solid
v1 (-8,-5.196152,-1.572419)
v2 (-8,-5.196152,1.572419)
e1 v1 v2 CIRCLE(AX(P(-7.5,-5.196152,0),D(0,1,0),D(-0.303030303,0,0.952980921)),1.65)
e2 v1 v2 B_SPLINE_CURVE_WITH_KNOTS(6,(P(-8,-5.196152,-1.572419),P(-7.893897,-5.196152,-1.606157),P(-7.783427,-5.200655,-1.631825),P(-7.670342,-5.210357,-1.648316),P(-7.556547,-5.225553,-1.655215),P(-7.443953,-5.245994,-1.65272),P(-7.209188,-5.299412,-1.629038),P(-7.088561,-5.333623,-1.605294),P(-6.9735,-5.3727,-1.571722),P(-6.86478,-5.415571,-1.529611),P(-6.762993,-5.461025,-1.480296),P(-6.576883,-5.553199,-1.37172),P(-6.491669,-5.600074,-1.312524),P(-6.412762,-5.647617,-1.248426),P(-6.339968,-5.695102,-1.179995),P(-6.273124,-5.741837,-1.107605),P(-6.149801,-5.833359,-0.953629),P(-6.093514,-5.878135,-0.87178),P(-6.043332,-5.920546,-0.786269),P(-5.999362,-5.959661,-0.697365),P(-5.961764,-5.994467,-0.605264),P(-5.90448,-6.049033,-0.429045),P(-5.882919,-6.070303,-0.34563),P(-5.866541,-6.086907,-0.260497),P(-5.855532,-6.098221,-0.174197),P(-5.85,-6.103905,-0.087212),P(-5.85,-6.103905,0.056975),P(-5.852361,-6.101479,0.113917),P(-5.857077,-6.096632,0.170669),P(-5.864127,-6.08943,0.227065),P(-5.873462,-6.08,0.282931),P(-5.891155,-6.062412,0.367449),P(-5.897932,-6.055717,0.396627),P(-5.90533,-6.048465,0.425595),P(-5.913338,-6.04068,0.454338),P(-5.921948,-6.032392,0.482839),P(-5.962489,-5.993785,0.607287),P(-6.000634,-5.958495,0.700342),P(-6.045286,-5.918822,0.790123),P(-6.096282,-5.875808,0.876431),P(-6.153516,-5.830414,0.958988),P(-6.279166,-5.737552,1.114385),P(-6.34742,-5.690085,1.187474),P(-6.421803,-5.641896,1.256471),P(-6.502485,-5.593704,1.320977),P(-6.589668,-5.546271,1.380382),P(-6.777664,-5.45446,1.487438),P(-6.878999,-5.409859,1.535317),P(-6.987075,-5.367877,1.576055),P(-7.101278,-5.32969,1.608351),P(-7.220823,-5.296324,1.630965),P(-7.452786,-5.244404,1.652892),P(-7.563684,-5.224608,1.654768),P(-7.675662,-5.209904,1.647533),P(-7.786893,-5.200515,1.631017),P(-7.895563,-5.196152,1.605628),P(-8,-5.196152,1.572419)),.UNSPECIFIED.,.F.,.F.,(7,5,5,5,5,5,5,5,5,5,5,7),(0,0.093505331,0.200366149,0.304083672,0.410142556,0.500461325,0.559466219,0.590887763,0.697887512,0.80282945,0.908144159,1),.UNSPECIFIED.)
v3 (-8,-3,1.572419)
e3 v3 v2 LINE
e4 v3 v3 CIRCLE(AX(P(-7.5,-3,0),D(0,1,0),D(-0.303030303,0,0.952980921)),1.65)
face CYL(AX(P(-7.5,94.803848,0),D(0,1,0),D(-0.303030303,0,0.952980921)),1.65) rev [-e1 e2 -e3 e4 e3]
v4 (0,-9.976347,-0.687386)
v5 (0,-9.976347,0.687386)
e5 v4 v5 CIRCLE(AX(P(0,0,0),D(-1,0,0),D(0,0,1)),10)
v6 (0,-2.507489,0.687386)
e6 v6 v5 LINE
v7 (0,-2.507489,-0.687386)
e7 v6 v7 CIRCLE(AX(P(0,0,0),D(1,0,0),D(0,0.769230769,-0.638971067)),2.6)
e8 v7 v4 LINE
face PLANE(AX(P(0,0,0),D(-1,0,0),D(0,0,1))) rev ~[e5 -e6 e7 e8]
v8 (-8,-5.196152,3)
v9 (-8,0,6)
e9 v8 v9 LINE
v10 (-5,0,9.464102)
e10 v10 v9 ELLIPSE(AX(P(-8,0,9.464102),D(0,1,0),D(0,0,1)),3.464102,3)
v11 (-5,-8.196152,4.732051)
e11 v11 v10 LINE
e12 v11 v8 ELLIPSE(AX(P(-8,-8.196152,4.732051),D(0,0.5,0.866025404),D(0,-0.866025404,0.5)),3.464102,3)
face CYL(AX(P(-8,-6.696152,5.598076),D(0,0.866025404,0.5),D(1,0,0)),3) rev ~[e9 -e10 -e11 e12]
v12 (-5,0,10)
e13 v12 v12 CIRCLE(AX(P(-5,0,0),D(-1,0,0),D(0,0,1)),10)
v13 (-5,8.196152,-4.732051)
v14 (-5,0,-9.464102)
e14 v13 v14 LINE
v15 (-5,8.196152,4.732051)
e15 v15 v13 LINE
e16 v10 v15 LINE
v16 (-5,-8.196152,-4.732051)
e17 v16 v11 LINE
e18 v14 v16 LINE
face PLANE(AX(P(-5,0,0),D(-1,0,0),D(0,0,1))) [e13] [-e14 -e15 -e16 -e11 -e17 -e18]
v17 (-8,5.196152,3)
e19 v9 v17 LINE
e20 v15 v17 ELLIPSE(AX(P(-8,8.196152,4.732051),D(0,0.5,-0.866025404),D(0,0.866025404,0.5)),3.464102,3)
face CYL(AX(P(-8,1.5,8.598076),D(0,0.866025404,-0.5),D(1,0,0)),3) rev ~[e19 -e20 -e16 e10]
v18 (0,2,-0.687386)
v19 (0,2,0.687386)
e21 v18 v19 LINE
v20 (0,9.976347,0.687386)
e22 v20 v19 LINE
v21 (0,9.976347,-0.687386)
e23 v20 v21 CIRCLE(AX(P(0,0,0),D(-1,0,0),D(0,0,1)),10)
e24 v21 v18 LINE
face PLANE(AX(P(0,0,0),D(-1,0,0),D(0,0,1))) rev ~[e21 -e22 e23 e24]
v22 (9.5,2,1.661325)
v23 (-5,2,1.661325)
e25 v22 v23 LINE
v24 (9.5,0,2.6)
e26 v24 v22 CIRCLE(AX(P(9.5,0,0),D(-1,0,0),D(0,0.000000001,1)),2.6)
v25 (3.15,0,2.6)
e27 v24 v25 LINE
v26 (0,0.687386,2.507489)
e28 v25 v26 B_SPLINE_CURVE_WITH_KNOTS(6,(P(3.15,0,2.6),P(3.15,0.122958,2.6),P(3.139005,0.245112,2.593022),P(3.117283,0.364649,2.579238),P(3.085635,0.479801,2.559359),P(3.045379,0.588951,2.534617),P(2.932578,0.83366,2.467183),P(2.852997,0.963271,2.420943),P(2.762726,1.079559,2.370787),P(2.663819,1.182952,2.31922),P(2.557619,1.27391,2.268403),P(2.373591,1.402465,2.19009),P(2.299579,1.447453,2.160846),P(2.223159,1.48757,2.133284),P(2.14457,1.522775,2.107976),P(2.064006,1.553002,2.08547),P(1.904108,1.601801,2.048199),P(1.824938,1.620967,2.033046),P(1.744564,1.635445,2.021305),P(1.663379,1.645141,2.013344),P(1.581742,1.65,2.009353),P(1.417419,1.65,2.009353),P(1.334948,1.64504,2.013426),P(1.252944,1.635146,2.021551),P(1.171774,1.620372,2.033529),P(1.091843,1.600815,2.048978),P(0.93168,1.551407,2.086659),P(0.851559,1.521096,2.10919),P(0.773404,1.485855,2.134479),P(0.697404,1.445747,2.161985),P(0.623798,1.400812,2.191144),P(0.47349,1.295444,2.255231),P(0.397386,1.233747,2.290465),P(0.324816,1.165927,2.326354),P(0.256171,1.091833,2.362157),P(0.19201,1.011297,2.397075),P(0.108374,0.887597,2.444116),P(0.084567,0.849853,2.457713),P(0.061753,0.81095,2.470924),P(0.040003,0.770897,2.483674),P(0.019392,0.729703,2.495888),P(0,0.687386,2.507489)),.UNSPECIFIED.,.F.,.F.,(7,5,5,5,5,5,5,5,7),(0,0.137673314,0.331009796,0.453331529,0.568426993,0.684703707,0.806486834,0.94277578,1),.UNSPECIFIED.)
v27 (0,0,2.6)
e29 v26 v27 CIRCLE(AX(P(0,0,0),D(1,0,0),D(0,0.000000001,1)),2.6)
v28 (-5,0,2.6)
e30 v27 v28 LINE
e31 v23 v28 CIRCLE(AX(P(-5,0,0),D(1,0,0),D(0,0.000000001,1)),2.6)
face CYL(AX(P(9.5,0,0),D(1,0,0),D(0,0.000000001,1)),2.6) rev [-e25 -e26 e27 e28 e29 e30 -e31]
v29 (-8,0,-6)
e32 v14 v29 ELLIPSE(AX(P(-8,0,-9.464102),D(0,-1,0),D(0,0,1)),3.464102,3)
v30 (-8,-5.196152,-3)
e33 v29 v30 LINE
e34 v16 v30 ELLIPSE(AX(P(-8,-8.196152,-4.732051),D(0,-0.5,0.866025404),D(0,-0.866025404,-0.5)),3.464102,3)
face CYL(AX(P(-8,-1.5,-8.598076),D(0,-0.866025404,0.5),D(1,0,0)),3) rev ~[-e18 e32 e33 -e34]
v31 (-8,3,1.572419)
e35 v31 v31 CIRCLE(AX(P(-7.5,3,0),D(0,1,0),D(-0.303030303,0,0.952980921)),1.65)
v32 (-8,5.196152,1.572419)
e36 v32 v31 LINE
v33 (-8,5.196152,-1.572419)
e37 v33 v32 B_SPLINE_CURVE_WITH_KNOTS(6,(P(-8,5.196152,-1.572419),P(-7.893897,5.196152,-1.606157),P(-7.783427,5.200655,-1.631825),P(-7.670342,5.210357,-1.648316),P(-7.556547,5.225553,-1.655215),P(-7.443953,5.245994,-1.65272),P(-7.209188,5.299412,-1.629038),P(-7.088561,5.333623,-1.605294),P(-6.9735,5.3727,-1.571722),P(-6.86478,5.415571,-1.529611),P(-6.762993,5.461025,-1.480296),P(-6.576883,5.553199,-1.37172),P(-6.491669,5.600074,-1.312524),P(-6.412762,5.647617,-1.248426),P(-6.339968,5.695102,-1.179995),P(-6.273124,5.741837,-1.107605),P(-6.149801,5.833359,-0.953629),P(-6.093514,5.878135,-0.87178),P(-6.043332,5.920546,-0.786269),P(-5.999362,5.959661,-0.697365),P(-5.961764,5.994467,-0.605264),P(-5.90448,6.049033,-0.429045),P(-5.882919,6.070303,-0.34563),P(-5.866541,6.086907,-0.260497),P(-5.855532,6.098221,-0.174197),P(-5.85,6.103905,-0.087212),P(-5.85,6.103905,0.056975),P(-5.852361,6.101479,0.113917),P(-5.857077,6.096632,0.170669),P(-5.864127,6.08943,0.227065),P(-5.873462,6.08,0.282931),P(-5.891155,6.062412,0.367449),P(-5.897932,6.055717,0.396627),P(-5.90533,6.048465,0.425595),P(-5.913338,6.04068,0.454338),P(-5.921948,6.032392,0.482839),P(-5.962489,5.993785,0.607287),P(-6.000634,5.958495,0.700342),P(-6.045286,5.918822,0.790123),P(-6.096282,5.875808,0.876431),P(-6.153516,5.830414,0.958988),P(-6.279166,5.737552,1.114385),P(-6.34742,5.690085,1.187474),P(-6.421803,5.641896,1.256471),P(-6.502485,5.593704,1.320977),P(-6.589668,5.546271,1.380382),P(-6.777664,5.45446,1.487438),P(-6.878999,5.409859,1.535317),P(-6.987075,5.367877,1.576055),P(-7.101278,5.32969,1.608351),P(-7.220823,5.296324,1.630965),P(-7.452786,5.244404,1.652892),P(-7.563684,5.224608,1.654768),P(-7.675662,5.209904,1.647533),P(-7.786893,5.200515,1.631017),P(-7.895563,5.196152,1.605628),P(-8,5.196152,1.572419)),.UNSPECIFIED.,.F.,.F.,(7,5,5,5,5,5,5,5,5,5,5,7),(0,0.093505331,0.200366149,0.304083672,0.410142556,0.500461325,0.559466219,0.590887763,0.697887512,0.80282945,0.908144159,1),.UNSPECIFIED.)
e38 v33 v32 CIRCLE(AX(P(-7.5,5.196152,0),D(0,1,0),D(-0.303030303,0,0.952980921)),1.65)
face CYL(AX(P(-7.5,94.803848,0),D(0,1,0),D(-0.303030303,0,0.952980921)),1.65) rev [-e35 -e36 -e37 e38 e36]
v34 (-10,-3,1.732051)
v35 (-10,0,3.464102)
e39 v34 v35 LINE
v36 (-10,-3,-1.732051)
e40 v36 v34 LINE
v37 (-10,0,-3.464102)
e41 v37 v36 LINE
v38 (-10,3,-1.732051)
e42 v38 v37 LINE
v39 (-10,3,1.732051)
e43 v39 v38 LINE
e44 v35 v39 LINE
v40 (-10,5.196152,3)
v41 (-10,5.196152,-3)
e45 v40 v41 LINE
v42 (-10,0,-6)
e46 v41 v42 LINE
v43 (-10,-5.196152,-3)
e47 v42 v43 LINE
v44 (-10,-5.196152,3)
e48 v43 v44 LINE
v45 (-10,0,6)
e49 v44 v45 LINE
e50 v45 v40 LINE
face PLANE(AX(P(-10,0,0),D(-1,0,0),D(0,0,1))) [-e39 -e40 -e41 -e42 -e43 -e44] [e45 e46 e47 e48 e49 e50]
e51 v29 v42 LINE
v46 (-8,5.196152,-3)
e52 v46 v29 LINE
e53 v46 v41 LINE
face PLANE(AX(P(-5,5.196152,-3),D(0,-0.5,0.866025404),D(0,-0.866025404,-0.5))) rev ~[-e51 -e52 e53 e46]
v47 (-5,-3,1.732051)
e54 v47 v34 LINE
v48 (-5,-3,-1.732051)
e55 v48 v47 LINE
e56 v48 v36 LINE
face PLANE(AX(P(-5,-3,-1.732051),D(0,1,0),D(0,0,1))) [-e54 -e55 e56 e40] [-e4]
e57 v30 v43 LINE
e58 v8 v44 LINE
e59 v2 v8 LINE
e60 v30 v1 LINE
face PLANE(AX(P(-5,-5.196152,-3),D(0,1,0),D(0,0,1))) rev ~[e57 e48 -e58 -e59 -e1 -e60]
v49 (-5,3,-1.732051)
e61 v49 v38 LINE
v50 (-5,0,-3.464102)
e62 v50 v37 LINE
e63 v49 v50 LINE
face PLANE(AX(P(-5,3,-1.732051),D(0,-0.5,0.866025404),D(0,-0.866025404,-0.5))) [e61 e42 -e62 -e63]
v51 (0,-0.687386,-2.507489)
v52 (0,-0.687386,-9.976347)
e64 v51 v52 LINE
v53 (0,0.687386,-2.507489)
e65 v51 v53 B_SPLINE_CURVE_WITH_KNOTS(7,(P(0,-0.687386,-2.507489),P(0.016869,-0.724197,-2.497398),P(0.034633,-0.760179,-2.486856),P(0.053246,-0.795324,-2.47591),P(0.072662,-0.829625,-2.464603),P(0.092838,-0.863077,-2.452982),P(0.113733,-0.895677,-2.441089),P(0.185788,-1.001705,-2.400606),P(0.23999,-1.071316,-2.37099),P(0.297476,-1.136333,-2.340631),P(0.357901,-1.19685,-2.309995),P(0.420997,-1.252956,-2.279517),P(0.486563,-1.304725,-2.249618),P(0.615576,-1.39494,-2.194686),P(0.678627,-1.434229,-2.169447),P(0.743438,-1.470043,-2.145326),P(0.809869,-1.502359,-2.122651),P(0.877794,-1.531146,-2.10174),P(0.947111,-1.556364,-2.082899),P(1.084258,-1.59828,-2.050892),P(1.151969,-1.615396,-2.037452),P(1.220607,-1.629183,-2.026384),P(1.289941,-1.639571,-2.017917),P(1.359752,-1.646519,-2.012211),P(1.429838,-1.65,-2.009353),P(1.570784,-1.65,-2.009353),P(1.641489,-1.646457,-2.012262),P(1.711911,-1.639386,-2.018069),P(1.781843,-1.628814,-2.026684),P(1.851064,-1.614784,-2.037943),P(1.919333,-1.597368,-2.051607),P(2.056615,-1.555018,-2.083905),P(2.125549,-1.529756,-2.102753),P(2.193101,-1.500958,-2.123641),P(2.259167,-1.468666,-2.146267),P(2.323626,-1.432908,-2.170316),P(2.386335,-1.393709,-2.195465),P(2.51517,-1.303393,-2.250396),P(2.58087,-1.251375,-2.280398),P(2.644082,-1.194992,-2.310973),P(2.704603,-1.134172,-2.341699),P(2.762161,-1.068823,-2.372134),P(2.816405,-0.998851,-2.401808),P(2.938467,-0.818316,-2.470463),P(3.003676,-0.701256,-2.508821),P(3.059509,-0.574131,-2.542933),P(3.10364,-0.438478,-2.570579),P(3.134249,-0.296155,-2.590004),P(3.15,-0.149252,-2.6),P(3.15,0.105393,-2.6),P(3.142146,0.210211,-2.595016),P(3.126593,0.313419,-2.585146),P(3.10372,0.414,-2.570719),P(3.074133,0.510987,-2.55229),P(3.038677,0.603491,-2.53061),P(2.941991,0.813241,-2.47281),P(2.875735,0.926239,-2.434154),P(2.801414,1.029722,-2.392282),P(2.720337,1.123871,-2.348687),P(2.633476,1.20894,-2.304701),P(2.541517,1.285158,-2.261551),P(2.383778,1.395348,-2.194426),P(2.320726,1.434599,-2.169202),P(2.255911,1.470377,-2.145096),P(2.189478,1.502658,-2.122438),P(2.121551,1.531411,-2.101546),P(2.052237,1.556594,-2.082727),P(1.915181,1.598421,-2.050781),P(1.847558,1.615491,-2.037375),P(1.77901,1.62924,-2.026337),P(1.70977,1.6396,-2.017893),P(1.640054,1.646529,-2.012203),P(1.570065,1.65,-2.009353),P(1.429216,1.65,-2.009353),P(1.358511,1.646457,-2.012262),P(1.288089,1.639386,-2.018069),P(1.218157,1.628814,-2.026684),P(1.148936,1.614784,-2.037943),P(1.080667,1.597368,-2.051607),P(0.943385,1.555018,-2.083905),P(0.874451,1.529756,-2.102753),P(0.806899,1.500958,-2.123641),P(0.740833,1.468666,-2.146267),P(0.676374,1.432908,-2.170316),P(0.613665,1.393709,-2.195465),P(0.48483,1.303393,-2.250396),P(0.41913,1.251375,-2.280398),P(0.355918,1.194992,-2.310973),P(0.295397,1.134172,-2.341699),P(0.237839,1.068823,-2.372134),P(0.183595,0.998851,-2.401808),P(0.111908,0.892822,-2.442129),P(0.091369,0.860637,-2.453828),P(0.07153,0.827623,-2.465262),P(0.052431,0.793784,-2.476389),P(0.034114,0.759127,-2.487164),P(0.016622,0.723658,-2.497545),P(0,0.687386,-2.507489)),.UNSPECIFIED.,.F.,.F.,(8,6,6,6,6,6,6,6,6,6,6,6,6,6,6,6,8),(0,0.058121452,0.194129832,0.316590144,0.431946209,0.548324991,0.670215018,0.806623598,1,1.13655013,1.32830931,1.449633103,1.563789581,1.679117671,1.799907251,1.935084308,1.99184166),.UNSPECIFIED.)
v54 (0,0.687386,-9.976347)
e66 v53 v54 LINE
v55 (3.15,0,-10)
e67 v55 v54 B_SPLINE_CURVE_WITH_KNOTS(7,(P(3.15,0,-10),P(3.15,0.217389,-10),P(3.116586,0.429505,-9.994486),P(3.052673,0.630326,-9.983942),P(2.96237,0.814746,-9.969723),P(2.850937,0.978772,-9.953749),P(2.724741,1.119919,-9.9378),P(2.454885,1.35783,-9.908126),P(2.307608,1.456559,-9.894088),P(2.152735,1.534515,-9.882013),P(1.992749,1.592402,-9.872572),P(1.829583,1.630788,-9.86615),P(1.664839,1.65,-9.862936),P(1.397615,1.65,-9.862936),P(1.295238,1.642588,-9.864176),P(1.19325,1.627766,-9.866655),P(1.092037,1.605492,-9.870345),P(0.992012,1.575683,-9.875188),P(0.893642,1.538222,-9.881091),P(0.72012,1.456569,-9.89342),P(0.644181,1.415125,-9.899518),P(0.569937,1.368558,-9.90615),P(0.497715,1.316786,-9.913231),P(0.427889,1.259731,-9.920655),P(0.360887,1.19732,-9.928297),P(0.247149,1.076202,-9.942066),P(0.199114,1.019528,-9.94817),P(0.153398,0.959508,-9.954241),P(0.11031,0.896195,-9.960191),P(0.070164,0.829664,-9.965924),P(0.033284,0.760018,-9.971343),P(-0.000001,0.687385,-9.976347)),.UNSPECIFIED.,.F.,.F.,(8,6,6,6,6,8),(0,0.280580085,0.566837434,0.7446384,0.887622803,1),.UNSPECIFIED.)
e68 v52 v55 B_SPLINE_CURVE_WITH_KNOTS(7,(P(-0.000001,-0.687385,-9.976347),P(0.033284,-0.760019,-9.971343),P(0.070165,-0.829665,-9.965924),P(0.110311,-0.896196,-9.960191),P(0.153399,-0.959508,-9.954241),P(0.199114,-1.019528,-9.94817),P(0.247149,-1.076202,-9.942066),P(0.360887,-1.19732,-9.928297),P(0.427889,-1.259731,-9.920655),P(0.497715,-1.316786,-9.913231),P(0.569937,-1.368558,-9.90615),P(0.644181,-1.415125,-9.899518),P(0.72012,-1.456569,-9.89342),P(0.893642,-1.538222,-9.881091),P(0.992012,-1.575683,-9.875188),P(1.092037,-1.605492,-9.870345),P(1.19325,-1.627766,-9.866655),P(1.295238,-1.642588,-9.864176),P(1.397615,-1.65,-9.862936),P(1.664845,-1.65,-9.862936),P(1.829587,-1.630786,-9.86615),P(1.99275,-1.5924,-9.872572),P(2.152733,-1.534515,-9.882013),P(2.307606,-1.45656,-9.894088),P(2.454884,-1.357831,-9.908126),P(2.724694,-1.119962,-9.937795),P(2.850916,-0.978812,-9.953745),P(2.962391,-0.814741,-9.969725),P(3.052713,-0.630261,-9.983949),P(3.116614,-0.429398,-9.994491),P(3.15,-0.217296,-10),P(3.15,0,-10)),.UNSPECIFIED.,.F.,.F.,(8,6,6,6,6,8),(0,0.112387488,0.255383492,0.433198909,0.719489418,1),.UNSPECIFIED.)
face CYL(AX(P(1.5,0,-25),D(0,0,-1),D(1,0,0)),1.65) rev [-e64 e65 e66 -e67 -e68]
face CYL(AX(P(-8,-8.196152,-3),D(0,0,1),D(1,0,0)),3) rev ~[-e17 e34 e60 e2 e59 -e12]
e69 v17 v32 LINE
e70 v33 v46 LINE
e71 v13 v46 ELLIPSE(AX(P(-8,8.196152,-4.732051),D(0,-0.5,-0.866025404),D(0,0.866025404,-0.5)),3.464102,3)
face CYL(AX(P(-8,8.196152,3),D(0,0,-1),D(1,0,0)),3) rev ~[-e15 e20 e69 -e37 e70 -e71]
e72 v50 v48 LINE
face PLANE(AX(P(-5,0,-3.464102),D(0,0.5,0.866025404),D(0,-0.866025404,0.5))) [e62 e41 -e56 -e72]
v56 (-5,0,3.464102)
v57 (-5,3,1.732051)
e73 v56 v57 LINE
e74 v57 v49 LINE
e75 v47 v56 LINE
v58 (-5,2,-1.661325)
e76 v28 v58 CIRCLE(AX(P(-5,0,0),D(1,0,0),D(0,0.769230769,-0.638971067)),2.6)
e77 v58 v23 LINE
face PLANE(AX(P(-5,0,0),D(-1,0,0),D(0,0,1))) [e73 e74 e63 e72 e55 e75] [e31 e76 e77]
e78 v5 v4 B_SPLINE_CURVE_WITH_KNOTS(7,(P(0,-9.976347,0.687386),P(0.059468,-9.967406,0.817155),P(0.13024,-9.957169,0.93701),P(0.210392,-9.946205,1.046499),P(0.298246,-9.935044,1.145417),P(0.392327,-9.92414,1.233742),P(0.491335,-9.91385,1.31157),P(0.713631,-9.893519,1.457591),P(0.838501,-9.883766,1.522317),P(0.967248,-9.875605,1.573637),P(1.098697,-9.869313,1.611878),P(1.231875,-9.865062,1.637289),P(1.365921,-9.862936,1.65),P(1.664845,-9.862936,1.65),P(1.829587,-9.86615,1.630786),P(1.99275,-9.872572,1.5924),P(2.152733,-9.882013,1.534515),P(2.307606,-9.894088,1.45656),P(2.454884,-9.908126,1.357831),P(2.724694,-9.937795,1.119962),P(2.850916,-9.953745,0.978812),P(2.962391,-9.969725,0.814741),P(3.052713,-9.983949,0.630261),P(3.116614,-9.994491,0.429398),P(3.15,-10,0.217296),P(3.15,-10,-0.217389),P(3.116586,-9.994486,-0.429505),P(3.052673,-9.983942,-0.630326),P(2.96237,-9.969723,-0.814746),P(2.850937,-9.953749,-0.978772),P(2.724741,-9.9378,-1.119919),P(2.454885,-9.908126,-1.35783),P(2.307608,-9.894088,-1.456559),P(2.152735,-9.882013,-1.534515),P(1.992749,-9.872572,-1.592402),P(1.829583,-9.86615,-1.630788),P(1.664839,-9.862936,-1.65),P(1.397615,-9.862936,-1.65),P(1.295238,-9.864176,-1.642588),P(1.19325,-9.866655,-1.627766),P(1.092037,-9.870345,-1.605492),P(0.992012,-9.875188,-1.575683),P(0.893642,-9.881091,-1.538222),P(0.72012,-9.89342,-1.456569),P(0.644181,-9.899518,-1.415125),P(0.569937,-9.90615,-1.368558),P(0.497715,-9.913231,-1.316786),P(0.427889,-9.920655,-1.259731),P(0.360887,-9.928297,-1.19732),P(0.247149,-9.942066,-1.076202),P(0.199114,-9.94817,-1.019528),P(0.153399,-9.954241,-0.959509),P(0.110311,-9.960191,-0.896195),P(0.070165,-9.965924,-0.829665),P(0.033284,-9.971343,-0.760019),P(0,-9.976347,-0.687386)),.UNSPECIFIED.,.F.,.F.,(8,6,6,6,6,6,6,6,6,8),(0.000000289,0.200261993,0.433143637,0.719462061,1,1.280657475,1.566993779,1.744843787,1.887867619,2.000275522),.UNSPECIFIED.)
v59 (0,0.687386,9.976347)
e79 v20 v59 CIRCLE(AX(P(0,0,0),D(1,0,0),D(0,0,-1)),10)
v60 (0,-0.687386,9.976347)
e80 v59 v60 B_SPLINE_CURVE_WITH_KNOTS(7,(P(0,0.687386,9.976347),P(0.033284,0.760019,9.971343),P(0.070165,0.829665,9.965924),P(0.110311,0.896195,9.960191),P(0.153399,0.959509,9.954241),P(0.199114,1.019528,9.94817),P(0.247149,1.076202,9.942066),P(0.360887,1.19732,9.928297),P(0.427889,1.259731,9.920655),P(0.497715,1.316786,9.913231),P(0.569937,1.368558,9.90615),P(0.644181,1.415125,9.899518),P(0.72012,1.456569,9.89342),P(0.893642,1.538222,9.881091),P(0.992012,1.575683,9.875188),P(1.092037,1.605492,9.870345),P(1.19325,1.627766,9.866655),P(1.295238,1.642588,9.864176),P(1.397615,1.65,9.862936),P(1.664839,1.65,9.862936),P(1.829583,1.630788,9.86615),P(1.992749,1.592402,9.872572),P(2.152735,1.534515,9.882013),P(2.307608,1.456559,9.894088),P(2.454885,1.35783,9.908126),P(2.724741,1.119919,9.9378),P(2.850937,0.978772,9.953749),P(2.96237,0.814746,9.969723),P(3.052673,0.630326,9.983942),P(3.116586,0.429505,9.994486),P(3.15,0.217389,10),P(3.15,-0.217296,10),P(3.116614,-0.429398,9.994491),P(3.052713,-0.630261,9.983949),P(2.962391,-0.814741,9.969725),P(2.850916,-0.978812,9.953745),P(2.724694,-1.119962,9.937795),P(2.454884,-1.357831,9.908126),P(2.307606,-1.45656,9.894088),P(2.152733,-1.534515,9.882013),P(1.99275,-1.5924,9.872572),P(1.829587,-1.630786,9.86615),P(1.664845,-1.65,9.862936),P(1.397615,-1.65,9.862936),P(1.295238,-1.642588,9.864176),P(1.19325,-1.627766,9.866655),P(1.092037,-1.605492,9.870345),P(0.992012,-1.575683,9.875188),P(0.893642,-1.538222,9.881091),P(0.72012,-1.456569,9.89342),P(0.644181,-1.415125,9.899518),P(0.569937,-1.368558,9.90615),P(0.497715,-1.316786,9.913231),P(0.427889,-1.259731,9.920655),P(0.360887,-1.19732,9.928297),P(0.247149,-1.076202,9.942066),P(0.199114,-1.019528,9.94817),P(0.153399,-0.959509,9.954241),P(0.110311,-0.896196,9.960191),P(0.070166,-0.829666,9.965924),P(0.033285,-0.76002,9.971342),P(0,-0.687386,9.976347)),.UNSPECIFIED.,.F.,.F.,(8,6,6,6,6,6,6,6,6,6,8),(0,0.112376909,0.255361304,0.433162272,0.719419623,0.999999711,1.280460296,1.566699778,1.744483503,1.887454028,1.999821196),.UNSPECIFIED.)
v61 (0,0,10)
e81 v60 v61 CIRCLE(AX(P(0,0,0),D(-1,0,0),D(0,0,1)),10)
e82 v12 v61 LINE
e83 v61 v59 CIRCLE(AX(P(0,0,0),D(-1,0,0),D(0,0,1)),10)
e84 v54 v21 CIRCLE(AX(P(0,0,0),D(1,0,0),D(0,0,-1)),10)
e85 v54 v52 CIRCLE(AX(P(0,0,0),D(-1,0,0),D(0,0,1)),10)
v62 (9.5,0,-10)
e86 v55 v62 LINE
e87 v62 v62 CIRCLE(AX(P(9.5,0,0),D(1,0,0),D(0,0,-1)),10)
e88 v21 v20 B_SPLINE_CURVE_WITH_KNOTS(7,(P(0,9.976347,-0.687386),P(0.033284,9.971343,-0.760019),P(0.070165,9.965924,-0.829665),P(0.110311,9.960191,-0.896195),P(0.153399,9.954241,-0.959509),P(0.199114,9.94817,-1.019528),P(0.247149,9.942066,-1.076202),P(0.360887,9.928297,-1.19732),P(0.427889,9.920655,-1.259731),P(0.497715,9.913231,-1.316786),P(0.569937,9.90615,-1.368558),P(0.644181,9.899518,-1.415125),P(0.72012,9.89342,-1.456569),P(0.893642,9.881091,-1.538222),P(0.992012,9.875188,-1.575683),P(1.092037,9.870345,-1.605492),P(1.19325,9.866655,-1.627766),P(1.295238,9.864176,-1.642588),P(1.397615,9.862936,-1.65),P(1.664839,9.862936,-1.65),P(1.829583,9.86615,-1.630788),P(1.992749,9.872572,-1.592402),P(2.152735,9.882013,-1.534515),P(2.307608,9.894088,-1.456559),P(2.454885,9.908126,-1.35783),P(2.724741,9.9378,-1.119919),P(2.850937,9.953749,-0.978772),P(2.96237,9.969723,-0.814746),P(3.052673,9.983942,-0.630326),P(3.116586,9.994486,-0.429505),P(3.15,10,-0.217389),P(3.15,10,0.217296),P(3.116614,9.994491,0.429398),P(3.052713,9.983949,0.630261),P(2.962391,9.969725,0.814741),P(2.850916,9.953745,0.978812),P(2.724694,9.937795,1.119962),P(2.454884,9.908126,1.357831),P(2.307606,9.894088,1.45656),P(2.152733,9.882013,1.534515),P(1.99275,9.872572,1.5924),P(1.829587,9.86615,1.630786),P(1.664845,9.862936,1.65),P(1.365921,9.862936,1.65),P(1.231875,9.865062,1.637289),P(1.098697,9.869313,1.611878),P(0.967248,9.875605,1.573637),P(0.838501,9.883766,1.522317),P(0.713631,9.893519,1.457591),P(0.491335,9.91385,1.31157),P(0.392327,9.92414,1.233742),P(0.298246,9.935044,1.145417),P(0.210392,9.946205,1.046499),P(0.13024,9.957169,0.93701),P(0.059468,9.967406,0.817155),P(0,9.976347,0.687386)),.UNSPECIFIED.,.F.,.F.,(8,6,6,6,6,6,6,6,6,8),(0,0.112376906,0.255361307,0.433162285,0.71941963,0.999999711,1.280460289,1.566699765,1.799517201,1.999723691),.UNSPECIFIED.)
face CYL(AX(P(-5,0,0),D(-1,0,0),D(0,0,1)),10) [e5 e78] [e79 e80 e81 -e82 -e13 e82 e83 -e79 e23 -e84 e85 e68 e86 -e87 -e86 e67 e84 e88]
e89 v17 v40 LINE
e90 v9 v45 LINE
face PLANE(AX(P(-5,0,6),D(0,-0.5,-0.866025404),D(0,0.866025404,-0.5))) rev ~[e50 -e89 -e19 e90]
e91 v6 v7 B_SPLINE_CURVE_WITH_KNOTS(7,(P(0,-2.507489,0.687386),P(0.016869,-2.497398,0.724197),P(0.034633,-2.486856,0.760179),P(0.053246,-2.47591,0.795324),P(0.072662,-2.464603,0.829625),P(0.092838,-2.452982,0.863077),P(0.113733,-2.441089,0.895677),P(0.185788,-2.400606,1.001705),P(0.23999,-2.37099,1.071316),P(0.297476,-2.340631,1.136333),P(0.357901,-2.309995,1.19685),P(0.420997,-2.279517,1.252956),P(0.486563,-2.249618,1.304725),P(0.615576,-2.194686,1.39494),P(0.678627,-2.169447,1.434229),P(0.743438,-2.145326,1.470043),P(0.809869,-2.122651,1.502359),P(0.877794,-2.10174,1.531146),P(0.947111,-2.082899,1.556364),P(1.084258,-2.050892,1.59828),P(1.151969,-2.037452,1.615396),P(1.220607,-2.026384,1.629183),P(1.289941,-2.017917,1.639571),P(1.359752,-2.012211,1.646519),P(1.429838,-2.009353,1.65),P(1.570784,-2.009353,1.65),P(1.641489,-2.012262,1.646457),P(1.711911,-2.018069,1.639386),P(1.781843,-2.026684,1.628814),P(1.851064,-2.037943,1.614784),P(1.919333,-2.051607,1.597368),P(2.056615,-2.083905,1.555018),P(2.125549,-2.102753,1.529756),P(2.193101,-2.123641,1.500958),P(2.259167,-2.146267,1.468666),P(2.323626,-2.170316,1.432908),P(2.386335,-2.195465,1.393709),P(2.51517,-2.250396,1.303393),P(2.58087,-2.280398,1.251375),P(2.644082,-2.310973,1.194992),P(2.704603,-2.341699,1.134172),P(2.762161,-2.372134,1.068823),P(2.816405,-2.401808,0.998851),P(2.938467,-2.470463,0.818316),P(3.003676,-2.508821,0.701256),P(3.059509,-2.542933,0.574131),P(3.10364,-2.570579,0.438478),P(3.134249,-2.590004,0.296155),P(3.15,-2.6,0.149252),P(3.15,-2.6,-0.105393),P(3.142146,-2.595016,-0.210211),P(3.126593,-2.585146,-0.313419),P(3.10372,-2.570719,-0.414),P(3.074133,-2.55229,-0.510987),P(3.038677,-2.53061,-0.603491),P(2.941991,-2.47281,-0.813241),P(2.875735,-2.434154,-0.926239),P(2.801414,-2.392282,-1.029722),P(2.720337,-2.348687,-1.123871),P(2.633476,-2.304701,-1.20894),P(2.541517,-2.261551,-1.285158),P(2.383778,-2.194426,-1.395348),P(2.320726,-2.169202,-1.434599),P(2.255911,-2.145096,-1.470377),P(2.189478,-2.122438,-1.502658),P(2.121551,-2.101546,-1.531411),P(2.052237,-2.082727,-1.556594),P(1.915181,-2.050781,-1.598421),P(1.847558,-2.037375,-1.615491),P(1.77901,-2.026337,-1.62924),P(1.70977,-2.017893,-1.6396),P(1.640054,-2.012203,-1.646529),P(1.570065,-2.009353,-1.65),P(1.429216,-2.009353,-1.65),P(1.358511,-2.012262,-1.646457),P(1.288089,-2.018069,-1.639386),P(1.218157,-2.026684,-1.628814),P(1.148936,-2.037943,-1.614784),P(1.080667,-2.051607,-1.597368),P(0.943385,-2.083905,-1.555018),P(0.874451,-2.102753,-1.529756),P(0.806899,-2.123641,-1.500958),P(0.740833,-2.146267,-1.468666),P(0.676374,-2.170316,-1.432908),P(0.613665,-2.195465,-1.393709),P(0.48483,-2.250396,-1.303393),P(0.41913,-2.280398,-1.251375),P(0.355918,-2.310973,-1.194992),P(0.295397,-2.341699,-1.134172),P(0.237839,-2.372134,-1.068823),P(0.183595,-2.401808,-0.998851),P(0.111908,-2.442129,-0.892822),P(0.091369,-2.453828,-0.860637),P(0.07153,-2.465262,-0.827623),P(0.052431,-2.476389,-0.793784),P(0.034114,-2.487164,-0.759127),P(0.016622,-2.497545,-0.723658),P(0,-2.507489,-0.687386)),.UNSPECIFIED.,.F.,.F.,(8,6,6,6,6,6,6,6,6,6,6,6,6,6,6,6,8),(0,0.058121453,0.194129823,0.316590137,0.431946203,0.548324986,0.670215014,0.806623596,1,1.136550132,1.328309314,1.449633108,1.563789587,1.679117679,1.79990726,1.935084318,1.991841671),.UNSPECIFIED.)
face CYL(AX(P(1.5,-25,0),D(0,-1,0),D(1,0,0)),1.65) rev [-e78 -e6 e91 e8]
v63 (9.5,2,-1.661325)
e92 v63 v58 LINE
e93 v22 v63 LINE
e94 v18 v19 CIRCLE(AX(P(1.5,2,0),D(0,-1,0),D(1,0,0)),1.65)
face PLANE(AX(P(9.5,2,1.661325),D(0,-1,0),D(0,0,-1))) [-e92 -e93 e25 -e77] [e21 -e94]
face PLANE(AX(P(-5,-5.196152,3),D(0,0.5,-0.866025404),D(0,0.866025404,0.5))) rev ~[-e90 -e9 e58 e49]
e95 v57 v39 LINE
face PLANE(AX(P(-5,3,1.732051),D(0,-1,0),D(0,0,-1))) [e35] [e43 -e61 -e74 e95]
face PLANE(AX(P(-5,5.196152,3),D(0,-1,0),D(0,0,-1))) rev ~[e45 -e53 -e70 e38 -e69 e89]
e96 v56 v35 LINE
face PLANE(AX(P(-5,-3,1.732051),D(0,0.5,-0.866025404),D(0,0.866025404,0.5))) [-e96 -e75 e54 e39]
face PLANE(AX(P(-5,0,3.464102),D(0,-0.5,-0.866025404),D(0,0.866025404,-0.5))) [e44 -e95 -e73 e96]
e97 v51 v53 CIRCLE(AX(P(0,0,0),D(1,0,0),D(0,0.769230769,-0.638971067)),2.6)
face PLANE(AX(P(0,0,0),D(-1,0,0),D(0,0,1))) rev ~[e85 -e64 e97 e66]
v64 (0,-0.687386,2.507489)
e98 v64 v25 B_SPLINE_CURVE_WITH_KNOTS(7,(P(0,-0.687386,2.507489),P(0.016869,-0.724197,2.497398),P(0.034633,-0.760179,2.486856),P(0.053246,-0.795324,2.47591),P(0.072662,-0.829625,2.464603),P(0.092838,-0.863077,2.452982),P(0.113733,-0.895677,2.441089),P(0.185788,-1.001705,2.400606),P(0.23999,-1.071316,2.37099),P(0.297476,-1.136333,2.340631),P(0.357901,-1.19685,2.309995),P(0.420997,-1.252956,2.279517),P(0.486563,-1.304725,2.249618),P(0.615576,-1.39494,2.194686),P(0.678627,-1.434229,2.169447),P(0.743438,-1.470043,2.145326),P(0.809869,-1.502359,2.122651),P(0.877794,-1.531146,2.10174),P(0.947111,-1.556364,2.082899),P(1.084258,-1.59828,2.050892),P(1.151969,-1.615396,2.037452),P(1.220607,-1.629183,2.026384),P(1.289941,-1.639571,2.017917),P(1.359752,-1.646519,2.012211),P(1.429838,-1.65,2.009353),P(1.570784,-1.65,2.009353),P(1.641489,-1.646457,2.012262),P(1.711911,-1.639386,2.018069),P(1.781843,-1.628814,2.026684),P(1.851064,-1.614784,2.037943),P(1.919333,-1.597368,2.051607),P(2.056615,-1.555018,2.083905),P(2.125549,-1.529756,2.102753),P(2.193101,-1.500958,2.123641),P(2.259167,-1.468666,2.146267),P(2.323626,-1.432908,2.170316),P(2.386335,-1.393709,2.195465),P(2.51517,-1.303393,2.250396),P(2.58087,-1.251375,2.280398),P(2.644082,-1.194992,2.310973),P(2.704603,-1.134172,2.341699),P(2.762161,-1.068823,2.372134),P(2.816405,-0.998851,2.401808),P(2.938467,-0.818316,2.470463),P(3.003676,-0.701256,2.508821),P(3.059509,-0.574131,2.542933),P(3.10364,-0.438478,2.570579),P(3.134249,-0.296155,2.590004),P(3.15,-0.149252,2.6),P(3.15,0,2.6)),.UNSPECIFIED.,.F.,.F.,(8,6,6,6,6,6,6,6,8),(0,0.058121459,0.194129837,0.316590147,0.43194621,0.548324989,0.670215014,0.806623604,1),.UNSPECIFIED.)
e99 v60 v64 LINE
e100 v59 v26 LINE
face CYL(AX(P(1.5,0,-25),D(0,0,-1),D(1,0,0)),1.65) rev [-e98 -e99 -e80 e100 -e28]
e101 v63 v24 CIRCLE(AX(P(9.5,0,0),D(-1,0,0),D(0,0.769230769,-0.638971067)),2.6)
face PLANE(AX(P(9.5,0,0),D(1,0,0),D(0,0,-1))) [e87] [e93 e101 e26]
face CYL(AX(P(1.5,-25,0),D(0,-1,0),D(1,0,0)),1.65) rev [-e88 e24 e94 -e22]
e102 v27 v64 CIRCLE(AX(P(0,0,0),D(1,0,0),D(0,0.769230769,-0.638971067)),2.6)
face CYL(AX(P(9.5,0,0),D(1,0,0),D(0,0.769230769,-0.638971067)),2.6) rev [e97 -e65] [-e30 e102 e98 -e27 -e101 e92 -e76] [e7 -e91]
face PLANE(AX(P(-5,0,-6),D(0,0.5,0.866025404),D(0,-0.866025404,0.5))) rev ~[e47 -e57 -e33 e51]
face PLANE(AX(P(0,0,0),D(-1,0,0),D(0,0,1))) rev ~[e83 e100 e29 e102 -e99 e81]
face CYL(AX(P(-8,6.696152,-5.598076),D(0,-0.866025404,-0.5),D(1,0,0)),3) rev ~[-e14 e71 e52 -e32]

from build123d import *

# Parameters (mm, degrees)
SKETCH1_R               = 10
BOSS_EXTRUDE1_DEPTH     = 9.5
CUT_EXTRUDE3_DEPTH      = 25
CUT_EXTRUDE3_DEPTH_BACK = 25
SKETCH3_R               = 1.65
CUT_EXTRUDE4_DEPTH      = 25
CUT_EXTRUDE4_DEPTH_BACK = 25
SKETCH4_R               = 1.65
BOSS_EXTRUDE3_START     = 5
SKETCH6_R               = 10
BOSS_EXTRUDE3_DEPTH     = 5
CUT_EXTRUDE1_DEPTH      = 25
BOSS_EXTRUDE4_DEPTH     = 5
FILLET1_R               = 3
CUT_EXTRUDE5_DEPTH      = 100
CUT_EXTRUDE5_DEPTH_BACK = 100
SKETCH8_R               = 1.65


with BuildPart() as part:
    # Sketch1 → Boss-Extrude1 (new body)
    with BuildSketch(Plane(origin=(0, 0, 0), x_dir=(0, 0, -1), z_dir=(1, 0, 0))):
        Circle(SKETCH1_R)
    extrude(amount=BOSS_EXTRUDE1_DEPTH)

    # Sketch3 → Cut-Extrude3 (cut, two sides: drawn at the far end of the back side and taken through both)
    with BuildSketch(Plane(origin=(0, 0, 0), x_dir=(1, 0, 0), z_dir=(0, 1, 0)).offset(-CUT_EXTRUDE3_DEPTH_BACK)):
        with Locations((1.5, 0)):
            Circle(SKETCH3_R)
    extrude(amount=CUT_EXTRUDE3_DEPTH + CUT_EXTRUDE3_DEPTH_BACK, mode=Mode.SUBTRACT)

    # Sketch4 → Cut-Extrude4 (cut, two sides: drawn at the far end of the back side and taken through both)
    with BuildSketch(Plane.XY.offset(-CUT_EXTRUDE4_DEPTH_BACK)):
        with Locations((1.5, 0)):
            Circle(SKETCH4_R)
    extrude(amount=CUT_EXTRUDE4_DEPTH + CUT_EXTRUDE4_DEPTH_BACK, mode=Mode.SUBTRACT)

    # Sketch6 → Boss-Extrude3 (add)
    with BuildSketch(Plane.ZY.offset(BOSS_EXTRUDE3_START)):
        Circle(SKETCH6_R)
    extrude(amount=-BOSS_EXTRUDE3_DEPTH)

    # Sketch2 → Cut-Extrude1 (cut)
    with BuildSketch(Plane.ZY.offset(-9.5)):
        with BuildLine():
            ThreePointArc((2.6, 0), (2.353661446, 1.104661847), (1.661324773, 2))
            Line((1.661324773, 2), (-1.661324773, 2))
            ThreePointArc((-1.661324773, 2), (-1.104661847, -2.353661446), (2.6, 0))
        make_face()
    extrude(amount=CUT_EXTRUDE1_DEPTH, mode=Mode.SUBTRACT)

    # Sketch7 → Boss-Extrude4 (add)
    with BuildSketch(Plane.ZY.offset(5)):
        Polygon((-3, -5.196152423), (3, -5.196152423), (6, 0), (3, 5.196152423), (-3, 5.196152423), (-6, 0), align=None)
        Polygon((1.732050808, -3), (3.464101615, 0), (1.732050808, 3), (-1.732050808, 3), (-3.464101615, 0), (-1.732050808, -3), align=None, mode=Mode.SUBTRACT)
    extrude(amount=BOSS_EXTRUDE4_DEPTH)

    # Fillet1
    fillet1_edges = [part.edges().sort_by_distance(p)[0] for p in [
        (-5, -2.598076211, -4.5),
        (-5, -5.196152423, 0),
        (-5, -2.598076211, 4.5),
        (-5, 2.598076211, 4.5),
        (-5, 5.196152423, 0),
        (-5, 2.598076211, -4.5),
    ]]
    fillet(fillet1_edges, radius=FILLET1_R)

    # Sketch8 → Cut-Extrude5 (cut, two sides: drawn at the far end of the back side and taken through both)
    with BuildSketch(Plane(origin=(0, -5.196152423, 0), x_dir=(-1, 0, 0), z_dir=(0, -1, 0)).offset(-CUT_EXTRUDE5_DEPTH_BACK)):
        with Locations(Location((7.5, 0, 0), (0, 0, 287.639701394))):
            Circle(SKETCH8_R)
    extrude(amount=CUT_EXTRUDE5_DEPTH + CUT_EXTRUDE5_DEPTH_BACK, mode=Mode.SUBTRACT)


solid = part.part
